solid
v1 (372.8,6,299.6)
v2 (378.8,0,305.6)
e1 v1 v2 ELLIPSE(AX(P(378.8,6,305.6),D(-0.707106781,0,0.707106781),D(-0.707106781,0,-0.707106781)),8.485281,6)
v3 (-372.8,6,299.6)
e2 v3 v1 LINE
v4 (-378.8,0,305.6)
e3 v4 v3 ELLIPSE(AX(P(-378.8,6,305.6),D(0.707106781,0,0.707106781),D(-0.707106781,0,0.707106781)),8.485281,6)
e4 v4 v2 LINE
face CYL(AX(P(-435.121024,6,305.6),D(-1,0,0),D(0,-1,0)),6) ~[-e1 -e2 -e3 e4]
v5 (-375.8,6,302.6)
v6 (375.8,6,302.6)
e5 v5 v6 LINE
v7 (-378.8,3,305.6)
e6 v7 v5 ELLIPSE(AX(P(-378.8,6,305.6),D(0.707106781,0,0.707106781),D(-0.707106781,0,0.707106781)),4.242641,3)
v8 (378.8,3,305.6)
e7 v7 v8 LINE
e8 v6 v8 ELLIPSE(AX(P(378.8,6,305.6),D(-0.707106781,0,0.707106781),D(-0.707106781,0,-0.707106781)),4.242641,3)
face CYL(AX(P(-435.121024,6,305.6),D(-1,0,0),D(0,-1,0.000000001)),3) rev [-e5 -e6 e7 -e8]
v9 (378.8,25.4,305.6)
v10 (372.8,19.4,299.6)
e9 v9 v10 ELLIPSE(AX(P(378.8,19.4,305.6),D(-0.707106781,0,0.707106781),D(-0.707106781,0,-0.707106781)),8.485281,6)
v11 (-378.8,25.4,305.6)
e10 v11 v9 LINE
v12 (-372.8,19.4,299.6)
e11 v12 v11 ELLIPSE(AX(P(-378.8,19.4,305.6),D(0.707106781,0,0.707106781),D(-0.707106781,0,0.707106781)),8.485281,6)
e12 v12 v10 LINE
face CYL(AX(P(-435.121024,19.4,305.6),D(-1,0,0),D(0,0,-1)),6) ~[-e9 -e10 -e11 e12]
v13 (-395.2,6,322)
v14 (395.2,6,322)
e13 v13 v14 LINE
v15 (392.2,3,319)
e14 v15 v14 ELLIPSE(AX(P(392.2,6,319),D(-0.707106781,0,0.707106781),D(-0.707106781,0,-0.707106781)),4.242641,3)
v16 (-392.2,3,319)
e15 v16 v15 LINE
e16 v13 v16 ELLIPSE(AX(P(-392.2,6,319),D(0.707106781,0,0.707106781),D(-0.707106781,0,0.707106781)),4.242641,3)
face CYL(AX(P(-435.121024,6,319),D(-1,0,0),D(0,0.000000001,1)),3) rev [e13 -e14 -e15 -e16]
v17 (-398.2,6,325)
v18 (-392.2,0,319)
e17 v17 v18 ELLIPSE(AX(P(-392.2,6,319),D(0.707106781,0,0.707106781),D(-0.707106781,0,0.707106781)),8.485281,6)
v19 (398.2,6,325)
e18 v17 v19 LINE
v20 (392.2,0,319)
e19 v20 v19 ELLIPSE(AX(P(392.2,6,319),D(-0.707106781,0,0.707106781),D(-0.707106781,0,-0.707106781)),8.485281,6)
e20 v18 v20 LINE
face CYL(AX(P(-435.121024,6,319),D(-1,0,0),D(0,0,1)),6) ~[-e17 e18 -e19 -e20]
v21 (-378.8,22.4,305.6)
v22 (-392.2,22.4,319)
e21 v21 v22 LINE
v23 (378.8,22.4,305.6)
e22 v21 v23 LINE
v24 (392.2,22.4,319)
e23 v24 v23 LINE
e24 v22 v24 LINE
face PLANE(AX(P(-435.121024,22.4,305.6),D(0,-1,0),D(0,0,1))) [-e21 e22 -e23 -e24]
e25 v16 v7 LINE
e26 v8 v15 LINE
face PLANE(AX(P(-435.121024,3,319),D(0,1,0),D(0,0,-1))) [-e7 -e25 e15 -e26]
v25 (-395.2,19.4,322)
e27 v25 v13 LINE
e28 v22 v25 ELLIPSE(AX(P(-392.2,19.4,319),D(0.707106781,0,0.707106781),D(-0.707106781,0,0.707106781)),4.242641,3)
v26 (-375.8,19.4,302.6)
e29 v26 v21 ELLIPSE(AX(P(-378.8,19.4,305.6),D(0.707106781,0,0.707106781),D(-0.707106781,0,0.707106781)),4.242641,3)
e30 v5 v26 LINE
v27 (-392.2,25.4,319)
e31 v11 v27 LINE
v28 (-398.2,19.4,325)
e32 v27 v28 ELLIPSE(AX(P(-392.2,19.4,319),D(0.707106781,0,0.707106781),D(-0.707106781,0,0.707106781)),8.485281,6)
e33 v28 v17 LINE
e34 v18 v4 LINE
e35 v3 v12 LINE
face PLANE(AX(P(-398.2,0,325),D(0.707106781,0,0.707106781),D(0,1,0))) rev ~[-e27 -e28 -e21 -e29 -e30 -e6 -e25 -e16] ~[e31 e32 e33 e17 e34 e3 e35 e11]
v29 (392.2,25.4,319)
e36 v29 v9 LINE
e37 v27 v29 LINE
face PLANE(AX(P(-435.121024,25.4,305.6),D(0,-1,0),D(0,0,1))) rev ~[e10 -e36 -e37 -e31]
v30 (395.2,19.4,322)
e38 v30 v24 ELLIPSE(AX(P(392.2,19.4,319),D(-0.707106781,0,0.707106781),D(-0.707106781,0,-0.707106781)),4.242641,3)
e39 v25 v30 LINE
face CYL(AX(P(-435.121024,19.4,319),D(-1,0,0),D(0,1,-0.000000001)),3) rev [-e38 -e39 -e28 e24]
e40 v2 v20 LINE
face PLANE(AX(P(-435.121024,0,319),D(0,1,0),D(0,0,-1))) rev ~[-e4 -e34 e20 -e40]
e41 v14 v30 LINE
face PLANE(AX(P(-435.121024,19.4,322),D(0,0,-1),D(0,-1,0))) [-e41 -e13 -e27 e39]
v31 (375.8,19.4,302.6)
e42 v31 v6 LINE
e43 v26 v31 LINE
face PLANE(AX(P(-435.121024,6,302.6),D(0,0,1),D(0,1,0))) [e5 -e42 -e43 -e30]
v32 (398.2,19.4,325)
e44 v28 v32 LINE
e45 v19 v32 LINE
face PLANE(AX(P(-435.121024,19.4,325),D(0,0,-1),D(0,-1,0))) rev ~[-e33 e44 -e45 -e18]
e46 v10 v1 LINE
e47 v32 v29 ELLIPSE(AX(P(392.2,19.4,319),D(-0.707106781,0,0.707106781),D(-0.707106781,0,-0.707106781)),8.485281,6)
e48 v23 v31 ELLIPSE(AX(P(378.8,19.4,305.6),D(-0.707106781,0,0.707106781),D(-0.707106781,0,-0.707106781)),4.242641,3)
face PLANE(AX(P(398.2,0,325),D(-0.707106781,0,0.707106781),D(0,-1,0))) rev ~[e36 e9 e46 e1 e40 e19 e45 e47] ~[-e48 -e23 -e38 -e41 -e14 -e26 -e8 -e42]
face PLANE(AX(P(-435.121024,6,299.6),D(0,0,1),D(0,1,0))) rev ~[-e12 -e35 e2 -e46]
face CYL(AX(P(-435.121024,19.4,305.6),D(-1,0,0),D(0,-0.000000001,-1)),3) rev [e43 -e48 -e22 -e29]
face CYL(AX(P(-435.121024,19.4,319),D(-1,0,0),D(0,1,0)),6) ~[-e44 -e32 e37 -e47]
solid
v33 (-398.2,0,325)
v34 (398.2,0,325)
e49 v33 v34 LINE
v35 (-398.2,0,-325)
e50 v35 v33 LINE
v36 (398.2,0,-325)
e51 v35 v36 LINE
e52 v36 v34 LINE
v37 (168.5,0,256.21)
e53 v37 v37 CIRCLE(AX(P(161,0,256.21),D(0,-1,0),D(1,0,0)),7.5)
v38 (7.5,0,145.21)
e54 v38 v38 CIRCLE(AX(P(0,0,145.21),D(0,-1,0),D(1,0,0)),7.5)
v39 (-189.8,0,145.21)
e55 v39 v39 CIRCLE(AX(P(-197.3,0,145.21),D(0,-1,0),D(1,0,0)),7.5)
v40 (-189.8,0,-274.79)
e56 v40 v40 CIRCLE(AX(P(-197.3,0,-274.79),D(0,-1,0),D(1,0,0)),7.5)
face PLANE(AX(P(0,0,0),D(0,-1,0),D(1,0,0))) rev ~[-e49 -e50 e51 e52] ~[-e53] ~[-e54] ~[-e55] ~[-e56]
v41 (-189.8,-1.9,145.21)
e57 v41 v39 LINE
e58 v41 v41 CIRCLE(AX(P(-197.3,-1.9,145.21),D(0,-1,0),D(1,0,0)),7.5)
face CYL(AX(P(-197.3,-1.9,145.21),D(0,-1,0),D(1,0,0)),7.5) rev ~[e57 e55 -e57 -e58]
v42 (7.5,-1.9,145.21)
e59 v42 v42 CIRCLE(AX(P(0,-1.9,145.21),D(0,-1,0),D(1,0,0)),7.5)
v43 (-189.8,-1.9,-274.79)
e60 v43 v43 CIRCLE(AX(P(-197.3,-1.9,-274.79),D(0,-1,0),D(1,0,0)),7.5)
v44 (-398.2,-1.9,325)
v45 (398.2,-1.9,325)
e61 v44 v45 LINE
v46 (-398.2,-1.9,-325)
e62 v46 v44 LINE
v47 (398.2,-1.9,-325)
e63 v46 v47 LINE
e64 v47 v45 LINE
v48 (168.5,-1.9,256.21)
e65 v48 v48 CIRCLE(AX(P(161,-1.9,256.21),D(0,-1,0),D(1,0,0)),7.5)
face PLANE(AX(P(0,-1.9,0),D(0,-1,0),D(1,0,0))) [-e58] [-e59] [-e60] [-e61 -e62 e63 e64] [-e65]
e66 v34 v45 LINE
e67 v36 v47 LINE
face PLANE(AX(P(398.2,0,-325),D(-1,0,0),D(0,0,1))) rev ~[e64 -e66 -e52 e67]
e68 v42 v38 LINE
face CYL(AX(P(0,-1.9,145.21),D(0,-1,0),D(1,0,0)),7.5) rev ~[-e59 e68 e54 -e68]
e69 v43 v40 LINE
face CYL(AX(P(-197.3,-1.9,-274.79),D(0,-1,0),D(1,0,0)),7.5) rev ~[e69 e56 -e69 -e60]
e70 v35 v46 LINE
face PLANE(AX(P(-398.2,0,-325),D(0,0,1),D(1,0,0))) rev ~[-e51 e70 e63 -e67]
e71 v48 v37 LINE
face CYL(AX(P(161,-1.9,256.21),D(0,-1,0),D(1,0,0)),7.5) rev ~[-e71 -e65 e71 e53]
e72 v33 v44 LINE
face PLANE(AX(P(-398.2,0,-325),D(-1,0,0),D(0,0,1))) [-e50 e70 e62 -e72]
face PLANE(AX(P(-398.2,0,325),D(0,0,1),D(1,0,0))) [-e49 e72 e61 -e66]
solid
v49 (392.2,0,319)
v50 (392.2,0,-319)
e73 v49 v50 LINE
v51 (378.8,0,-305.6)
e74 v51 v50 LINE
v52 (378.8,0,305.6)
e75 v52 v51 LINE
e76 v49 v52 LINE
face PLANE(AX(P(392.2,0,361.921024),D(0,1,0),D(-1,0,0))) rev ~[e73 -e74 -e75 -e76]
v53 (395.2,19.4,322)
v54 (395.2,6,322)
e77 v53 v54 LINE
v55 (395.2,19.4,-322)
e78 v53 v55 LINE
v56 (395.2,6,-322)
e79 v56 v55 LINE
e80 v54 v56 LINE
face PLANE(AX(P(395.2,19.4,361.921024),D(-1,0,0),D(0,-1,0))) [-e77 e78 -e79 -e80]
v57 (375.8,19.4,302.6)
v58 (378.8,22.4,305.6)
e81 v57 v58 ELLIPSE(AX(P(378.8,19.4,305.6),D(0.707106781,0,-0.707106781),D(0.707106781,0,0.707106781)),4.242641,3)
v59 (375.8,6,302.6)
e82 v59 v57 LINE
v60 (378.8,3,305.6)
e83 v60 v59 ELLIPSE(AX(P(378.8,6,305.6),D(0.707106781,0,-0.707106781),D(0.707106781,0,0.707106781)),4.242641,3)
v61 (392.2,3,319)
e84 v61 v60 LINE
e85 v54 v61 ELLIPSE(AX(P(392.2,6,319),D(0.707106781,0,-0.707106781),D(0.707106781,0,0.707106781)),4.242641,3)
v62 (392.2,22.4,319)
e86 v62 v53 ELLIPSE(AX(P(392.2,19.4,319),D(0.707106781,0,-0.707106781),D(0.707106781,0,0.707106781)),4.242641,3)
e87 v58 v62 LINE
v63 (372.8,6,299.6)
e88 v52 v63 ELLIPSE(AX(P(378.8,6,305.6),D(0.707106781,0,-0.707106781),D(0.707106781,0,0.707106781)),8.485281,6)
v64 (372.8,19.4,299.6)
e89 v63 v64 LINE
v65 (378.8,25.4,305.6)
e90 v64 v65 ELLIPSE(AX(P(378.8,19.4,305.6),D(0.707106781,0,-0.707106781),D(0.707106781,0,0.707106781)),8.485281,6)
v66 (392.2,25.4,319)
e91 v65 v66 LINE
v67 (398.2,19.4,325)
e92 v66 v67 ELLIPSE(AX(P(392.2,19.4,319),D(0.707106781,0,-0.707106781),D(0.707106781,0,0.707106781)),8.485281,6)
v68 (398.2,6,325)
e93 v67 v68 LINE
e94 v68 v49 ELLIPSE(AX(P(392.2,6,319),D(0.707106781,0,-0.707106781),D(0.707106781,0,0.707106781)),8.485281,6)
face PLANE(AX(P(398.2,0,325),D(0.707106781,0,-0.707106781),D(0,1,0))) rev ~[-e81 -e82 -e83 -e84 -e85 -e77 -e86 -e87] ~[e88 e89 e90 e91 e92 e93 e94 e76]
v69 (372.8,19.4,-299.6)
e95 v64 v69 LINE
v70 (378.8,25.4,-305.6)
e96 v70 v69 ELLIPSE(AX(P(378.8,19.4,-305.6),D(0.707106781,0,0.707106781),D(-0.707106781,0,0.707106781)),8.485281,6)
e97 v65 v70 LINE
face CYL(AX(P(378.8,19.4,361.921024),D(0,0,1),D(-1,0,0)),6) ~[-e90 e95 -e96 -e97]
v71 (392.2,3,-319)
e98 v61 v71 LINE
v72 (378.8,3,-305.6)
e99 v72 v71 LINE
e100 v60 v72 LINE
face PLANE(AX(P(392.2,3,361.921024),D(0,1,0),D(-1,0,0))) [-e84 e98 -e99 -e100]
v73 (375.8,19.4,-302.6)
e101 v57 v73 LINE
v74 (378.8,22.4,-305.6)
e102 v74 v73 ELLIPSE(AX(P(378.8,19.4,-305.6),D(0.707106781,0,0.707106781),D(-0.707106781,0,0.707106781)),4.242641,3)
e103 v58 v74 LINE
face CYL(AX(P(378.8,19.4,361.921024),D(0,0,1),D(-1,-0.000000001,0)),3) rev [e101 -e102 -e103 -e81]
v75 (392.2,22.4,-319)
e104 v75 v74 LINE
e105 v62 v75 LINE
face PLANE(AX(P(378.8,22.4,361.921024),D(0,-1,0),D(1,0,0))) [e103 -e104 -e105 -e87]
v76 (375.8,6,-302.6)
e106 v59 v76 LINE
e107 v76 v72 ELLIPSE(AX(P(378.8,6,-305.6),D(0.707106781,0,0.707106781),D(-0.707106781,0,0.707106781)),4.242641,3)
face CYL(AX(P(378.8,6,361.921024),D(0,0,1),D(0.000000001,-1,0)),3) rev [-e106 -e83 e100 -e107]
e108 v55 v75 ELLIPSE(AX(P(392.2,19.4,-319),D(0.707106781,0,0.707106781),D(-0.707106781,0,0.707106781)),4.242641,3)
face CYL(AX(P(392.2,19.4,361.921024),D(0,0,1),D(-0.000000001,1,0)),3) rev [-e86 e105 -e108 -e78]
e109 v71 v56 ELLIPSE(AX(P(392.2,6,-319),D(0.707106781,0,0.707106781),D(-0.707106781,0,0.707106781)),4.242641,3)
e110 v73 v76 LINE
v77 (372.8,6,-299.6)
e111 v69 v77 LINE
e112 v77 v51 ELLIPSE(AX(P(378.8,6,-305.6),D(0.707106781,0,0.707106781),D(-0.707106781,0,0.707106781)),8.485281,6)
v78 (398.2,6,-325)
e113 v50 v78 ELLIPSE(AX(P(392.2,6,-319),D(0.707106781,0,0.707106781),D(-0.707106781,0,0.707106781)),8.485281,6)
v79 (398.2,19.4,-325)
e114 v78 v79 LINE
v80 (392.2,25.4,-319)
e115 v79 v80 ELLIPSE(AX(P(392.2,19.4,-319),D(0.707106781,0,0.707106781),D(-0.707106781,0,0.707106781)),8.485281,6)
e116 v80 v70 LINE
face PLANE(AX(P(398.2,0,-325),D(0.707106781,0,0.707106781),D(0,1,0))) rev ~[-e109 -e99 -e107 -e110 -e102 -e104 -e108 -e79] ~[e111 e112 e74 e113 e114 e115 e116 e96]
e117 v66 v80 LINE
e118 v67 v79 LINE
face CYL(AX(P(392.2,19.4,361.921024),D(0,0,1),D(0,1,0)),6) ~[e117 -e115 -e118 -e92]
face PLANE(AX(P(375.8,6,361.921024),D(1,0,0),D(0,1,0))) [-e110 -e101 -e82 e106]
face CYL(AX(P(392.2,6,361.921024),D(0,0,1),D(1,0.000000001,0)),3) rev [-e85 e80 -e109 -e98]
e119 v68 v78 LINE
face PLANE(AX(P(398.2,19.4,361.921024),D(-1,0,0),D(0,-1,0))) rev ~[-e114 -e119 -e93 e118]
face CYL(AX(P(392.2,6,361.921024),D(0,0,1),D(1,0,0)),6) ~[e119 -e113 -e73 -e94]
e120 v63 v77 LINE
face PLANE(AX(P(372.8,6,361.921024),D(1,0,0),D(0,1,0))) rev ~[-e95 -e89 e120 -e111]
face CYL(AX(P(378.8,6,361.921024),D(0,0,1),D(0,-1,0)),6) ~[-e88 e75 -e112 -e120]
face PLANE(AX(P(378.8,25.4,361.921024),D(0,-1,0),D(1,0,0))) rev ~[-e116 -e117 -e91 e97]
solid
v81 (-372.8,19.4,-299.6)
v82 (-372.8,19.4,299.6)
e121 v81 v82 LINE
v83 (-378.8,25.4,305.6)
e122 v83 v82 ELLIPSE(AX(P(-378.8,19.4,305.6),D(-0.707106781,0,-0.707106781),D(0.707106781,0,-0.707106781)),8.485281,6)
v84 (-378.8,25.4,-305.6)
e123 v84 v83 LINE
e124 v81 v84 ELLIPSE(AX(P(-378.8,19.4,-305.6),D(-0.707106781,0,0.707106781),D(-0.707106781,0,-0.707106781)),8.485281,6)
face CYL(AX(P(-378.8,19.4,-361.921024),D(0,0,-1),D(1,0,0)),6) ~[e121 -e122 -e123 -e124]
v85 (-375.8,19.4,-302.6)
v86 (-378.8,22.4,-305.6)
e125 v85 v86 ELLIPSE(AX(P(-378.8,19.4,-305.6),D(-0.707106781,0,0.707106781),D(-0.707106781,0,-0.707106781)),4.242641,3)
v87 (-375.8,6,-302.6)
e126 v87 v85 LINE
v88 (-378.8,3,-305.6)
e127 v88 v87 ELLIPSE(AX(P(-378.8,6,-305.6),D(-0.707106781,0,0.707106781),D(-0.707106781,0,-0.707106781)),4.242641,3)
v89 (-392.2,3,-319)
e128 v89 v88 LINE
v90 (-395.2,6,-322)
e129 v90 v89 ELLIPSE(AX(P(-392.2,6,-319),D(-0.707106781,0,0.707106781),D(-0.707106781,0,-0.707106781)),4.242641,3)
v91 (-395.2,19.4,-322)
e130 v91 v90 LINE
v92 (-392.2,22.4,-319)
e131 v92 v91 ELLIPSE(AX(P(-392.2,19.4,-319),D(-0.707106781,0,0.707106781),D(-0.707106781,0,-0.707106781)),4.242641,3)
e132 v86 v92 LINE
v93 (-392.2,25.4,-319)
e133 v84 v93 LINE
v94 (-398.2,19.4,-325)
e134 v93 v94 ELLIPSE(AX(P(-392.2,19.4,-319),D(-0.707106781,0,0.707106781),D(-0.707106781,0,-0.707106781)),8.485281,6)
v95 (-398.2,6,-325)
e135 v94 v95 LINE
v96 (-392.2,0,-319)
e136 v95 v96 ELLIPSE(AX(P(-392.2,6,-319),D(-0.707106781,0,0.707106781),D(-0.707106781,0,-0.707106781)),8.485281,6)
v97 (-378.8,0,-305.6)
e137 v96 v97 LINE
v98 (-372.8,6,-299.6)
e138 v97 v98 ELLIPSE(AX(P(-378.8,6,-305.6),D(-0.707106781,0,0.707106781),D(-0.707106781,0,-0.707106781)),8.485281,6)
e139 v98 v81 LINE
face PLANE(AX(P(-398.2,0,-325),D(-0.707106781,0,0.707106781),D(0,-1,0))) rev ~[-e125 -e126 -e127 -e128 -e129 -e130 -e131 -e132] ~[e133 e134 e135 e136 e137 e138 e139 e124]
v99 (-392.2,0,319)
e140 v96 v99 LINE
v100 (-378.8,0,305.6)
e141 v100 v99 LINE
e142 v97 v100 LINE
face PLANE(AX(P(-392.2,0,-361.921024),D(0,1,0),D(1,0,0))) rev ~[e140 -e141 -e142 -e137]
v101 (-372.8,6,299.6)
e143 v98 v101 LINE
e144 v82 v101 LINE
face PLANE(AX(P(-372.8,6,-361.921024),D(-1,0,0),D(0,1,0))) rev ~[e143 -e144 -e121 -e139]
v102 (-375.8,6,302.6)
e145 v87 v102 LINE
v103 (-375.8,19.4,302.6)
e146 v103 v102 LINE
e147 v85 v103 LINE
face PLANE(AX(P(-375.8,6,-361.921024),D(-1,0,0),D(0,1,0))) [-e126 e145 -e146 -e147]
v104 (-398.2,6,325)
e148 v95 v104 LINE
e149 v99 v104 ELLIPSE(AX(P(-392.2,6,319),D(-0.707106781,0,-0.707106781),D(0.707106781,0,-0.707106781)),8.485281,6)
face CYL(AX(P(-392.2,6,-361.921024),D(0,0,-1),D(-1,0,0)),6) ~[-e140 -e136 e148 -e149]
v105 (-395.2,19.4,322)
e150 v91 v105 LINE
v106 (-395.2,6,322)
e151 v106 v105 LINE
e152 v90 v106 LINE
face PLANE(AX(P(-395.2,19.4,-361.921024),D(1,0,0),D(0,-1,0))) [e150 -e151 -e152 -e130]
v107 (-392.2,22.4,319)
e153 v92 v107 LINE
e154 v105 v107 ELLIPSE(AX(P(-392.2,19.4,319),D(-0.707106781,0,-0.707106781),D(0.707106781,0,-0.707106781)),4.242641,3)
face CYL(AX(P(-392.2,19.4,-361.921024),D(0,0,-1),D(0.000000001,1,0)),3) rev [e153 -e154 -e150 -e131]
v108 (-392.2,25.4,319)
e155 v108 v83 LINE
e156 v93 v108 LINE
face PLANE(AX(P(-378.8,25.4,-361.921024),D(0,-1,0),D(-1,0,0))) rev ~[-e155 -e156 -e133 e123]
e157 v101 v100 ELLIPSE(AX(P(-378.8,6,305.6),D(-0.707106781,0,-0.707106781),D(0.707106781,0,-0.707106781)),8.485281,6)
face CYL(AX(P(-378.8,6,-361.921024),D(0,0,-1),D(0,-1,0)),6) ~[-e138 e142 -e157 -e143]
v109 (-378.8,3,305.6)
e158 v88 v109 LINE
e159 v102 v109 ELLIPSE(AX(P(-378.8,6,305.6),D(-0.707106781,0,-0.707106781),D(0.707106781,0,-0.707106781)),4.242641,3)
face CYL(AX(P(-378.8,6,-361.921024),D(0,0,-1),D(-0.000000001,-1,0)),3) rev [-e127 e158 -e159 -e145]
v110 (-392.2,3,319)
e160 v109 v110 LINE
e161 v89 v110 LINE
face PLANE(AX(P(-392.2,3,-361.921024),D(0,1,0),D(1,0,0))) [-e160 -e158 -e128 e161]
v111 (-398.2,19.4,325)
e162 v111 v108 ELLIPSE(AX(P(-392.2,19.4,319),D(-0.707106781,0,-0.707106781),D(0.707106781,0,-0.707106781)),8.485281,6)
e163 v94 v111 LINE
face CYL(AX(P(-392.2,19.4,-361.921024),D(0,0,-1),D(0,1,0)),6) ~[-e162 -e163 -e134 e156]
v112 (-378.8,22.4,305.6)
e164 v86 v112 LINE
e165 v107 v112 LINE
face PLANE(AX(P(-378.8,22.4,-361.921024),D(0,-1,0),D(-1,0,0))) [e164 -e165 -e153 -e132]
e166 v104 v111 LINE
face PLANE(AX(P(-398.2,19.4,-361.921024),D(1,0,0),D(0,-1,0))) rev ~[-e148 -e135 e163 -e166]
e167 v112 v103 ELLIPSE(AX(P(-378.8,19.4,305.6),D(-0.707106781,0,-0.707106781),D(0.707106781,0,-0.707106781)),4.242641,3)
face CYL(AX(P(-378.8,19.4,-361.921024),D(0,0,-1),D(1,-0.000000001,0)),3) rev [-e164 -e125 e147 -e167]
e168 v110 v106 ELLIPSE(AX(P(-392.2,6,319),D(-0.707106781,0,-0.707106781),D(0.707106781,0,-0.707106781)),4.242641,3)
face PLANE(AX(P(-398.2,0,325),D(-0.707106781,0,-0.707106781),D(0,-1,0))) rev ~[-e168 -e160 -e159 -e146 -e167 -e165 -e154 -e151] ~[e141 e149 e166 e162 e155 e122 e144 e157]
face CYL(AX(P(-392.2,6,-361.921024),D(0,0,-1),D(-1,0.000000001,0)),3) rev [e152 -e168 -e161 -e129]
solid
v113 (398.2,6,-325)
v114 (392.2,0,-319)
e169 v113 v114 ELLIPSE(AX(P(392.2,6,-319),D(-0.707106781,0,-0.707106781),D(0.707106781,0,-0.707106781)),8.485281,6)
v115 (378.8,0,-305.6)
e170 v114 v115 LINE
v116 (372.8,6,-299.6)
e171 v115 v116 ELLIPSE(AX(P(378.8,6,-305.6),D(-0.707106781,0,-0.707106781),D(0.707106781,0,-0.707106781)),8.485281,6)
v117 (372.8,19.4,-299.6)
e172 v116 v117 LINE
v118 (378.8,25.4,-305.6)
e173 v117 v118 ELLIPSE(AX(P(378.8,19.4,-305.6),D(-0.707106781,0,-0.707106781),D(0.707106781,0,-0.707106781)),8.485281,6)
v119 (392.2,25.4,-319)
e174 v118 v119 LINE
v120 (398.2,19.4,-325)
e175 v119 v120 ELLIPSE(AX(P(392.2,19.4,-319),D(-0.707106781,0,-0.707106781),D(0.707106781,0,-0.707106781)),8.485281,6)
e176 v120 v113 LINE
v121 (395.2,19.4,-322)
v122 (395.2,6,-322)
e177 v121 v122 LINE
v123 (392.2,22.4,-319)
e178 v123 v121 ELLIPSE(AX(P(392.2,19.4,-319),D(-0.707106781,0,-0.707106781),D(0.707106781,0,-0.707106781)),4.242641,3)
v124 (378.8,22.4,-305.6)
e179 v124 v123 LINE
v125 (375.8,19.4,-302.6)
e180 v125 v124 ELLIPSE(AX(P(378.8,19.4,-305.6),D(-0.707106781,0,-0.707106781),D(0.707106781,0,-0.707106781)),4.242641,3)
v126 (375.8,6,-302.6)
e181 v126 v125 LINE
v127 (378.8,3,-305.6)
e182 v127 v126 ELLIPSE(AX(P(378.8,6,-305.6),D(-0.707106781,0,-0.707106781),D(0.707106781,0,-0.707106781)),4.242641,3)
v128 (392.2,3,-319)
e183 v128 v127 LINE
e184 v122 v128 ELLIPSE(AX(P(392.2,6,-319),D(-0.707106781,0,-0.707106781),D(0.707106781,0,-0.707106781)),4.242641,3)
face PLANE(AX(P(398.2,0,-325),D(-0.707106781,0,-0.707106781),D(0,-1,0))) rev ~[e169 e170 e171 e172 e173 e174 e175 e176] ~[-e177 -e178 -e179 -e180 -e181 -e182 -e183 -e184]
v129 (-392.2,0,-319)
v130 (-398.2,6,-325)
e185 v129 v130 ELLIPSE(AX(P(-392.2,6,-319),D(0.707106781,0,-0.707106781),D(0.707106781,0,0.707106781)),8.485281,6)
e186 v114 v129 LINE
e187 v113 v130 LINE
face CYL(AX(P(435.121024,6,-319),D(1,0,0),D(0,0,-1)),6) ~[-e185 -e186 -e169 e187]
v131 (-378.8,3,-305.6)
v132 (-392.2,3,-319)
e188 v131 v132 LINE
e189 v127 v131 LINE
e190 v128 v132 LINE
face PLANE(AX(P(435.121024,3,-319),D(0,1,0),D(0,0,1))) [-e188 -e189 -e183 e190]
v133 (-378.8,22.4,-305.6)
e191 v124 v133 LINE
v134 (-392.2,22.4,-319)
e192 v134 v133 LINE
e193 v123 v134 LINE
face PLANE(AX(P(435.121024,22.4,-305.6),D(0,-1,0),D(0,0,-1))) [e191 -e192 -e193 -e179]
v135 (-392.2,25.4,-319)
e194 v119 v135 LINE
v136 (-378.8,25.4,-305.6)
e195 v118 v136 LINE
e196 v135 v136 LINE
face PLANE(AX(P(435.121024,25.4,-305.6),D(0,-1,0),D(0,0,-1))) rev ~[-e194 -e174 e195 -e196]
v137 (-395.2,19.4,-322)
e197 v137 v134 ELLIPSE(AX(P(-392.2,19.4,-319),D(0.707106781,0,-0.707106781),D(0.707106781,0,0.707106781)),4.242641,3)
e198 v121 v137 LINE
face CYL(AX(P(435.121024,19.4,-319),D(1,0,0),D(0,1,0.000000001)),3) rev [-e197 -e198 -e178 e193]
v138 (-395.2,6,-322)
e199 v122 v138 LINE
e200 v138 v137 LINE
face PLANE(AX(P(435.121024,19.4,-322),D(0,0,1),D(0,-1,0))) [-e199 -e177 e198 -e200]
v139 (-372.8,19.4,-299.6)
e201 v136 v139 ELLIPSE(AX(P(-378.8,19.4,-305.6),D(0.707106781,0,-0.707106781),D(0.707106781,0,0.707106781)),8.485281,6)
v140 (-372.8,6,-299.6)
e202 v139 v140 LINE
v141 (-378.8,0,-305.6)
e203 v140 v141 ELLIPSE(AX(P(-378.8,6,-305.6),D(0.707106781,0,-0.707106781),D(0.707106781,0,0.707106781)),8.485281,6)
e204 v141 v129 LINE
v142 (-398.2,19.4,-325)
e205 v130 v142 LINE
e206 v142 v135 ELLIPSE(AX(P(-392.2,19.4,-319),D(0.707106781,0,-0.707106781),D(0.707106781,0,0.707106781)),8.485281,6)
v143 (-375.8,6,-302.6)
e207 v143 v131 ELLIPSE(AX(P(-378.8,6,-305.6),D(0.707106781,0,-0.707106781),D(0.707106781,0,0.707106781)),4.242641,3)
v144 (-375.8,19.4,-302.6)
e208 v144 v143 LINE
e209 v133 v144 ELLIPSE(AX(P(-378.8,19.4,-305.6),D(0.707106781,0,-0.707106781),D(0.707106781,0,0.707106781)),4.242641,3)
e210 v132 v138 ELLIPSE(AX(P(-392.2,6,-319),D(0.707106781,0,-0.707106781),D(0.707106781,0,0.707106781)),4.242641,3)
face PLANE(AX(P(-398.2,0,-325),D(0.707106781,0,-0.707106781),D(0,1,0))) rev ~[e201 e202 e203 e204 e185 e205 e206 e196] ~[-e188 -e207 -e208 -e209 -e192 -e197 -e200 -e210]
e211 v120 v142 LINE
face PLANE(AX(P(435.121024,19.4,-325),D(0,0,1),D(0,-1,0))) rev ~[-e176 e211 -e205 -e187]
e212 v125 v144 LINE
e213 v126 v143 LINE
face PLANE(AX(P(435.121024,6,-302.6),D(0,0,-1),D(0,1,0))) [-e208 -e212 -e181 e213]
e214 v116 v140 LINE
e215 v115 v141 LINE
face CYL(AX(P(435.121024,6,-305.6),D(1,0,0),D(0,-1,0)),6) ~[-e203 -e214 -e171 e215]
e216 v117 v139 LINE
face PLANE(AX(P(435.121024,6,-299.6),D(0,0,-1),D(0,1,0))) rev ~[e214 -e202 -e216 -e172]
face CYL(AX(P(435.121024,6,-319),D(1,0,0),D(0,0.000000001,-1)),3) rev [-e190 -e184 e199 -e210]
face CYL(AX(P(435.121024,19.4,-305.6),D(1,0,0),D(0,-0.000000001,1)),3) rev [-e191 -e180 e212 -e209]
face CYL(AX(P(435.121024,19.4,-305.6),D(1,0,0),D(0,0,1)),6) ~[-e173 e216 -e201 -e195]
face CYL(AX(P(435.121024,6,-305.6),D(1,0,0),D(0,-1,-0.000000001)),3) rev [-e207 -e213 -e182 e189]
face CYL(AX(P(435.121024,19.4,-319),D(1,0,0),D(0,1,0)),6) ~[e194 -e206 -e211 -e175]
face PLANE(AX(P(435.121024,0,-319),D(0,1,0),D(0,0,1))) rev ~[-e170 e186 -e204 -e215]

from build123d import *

# Parameters (mm, degrees)
TUBO_CUADRADO_2_X_2_X_0_25_1_DEPTH      = 686.921024484
TUBO_CUADRADO_2_X_2_X_0_25_1_DEPTH_BACK = 36.921024484
TUBO_CUADRADO_2_X_2_X_0_25_1_2_DEPTH    = 870.242048969
TUBO_CUADRADO_2_X_2_X_0_25_1_3_DEPTH    = 723.842048969
TUBO_CUADRADO_2_X_2_X_0_25_1_4_DEPTH    = 870.242048969
CROQUIS3_W                              = 796.4
CROQUIS3_H                              = 650
SALIENTE_EXTRUIR1_DEPTH                 = 1.9
CROQUIS7_R                              = 7.5
CORTAR_EXTRUIR1_DEPTH                   = 10


with BuildPart() as part:
    # Sketch1 → Tubo cuadrado 2 X 2 X 0.25(1) (new, two sides: drawn at the far end of the back side and taken through both)
    with BuildSketch(Plane(origin=(-385.5, 12.7, -325), x_dir=(1, 0, 0), z_dir=(0, 0, 1)).offset(-TUBO_CUADRADO_2_X_2_X_0_25_1_DEPTH_BACK)):
        with BuildLine():
            Line((-6.7, -12.7), (6.7, -12.7))
            ThreePointArc((6.7, -12.7), (10.942640687, -10.942640687), (12.7, -6.7))
            Line((12.7, -6.7), (12.7, 6.7))
            ThreePointArc((12.7, 6.7), (10.942640687, 10.942640687), (6.7, 12.7))
            Line((6.7, 12.7), (-6.7, 12.7))
            ThreePointArc((-6.7, 12.7), (-10.942640687, 10.942640687), (-12.7, 6.7))
            Line((-12.7, 6.7), (-12.7, -6.7))
            ThreePointArc((-12.7, -6.7), (-10.942640687, -10.942640687), (-6.7, -12.7))
        make_face()
        with BuildLine():
            Line((-6.7, -9.7), (6.7, -9.7))
            ThreePointArc((6.7, -9.7), (8.821320344, -8.821320344), (9.7, -6.7))
            Line((9.7, -6.7), (9.7, 6.7))
            ThreePointArc((9.7, 6.7), (8.821320344, 8.821320344), (6.7, 9.7))
            Line((6.7, 9.7), (-6.7, 9.7))
            ThreePointArc((-6.7, 9.7), (-8.821320344, 8.821320344), (-9.7, 6.7))
            Line((-9.7, 6.7), (-9.7, -6.7))
            ThreePointArc((-9.7, -6.7), (-8.821320344, -8.821320344), (-6.7, -9.7))
        make_face(mode=Mode.SUBTRACT)
    extrude(amount=TUBO_CUADRADO_2_X_2_X_0_25_1_DEPTH + TUBO_CUADRADO_2_X_2_X_0_25_1_DEPTH_BACK)

    # Tubo cuadrado 2 X 2 X 0.25(1) mitre 1
    split(bisect_by=Plane(origin=(-398.2, 0, -325), x_dir=(0, -1, 0), z_dir=(-0.707106781, 0, 0.707106781)), keep=Keep.TOP)

    # Tubo cuadrado 2 X 2 X 0.25(1) mitre 2
    split(bisect_by=Plane(origin=(-398.2, 0, 325), x_dir=(0, -1, 0), z_dir=(-0.707106781, 0, -0.707106781)), keep=Keep.TOP)


with BuildPart() as body_2:
    # Sketch1 on segment 2 (carried to segment 2) → Tubo cuadrado 2 X 2 X 0.25_1 2 (new body)
    with BuildSketch(Plane(origin=(-435.121024484, 12.7, 312.3), x_dir=(0, 0, -1), z_dir=(1, 0, 0))):
        with BuildLine():
            Line((-6.7, -12.7), (6.7, -12.7))
            ThreePointArc((6.7, -12.7), (10.942640687, -10.942640687), (12.7, -6.7))
            Line((12.7, -6.7), (12.7, 6.7))
            ThreePointArc((12.7, 6.7), (10.942640687, 10.942640687), (6.7, 12.7))
            Line((6.7, 12.7), (-6.7, 12.7))
            ThreePointArc((-6.7, 12.7), (-10.942640687, 10.942640687), (-12.7, 6.7))
            Line((-12.7, 6.7), (-12.7, -6.7))
            ThreePointArc((-12.7, -6.7), (-10.942640687, -10.942640687), (-6.7, -12.7))
        make_face()
        with BuildLine():
            Line((-6.7, -9.7), (6.7, -9.7))
            ThreePointArc((6.7, -9.7), (8.821320344, -8.821320344), (9.7, -6.7))
            Line((9.7, -6.7), (9.7, 6.7))
            ThreePointArc((9.7, 6.7), (8.821320344, 8.821320344), (6.7, 9.7))
            Line((6.7, 9.7), (-6.7, 9.7))
            ThreePointArc((-6.7, 9.7), (-8.821320344, 8.821320344), (-9.7, 6.7))
            Line((-9.7, 6.7), (-9.7, -6.7))
            ThreePointArc((-9.7, -6.7), (-8.821320344, -8.821320344), (-6.7, -9.7))
        make_face(mode=Mode.SUBTRACT)
    extrude(amount=TUBO_CUADRADO_2_X_2_X_0_25_1_2_DEPTH)

    # Tubo cuadrado 2 X 2 X 0.25_1 2 mitre 1
    split(bisect_by=Plane(origin=(-398.2, 0, 325), x_dir=(0, 1, 0), z_dir=(0.707106781, 0, 0.707106781)), keep=Keep.TOP)

    # Tubo cuadrado 2 X 2 X 0.25_1 2 mitre 2
    split(bisect_by=Plane(origin=(398.2, 0, 325), x_dir=(0, -1, 0), z_dir=(-0.707106781, 0, 0.707106781)), keep=Keep.TOP)


with BuildPart() as body_3:
    # Sketch1 on segment 3 (carried to segment 3) → Tubo cuadrado 2 X 2 X 0.25_1 3 (new body)
    with BuildSketch(Plane(origin=(385.5, 12.7, 361.921024484), x_dir=(-1, 0, 0), z_dir=(0, 0, -1))):
        with BuildLine():
            Line((-6.7, -12.7), (6.7, -12.7))
            ThreePointArc((6.7, -12.7), (10.942640687, -10.942640687), (12.7, -6.7))
            Line((12.7, -6.7), (12.7, 6.7))
            ThreePointArc((12.7, 6.7), (10.942640687, 10.942640687), (6.7, 12.7))
            Line((6.7, 12.7), (-6.7, 12.7))
            ThreePointArc((-6.7, 12.7), (-10.942640687, 10.942640687), (-12.7, 6.7))
            Line((-12.7, 6.7), (-12.7, -6.7))
            ThreePointArc((-12.7, -6.7), (-10.942640687, -10.942640687), (-6.7, -12.7))
        make_face()
        with BuildLine():
            Line((-6.7, -9.7), (6.7, -9.7))
            ThreePointArc((6.7, -9.7), (8.821320344, -8.821320344), (9.7, -6.7))
            Line((9.7, -6.7), (9.7, 6.7))
            ThreePointArc((9.7, 6.7), (8.821320344, 8.821320344), (6.7, 9.7))
            Line((6.7, 9.7), (-6.7, 9.7))
            ThreePointArc((-6.7, 9.7), (-8.821320344, 8.821320344), (-9.7, 6.7))
            Line((-9.7, 6.7), (-9.7, -6.7))
            ThreePointArc((-9.7, -6.7), (-8.821320344, -8.821320344), (-6.7, -9.7))
        make_face(mode=Mode.SUBTRACT)
    extrude(amount=TUBO_CUADRADO_2_X_2_X_0_25_1_3_DEPTH)

    # Tubo cuadrado 2 X 2 X 0.25_1 3 mitre 1
    split(bisect_by=Plane(origin=(398.2, 0, -325), x_dir=(0, 1, 0), z_dir=(0.707106781, 0, 0.707106781)), keep=Keep.TOP)

    # Tubo cuadrado 2 X 2 X 0.25_1 3 mitre 2
    split(bisect_by=Plane(origin=(398.2, 0, 325), x_dir=(0, 1, 0), z_dir=(0.707106781, 0, -0.707106781)), keep=Keep.TOP)


with BuildPart() as body_4:
    # Sketch1 on segment 4 (carried to segment 4) → Tubo cuadrado 2 X 2 X 0.25_1 4 (new body)
    with BuildSketch(Plane(origin=(435.121024484, 12.7, -312.3), x_dir=(0, 0, 1), z_dir=(-1, 0, 0))):
        with BuildLine():
            Line((-6.7, -12.7), (6.7, -12.7))
            ThreePointArc((6.7, -12.7), (10.942640687, -10.942640687), (12.7, -6.7))
            Line((12.7, -6.7), (12.7, 6.7))
            ThreePointArc((12.7, 6.7), (10.942640687, 10.942640687), (6.7, 12.7))
            Line((6.7, 12.7), (-6.7, 12.7))
            ThreePointArc((-6.7, 12.7), (-10.942640687, 10.942640687), (-12.7, 6.7))
            Line((-12.7, 6.7), (-12.7, -6.7))
            ThreePointArc((-12.7, -6.7), (-10.942640687, -10.942640687), (-6.7, -12.7))
        make_face()
        with BuildLine():
            Line((-6.7, -9.7), (6.7, -9.7))
            ThreePointArc((6.7, -9.7), (8.821320344, -8.821320344), (9.7, -6.7))
            Line((9.7, -6.7), (9.7, 6.7))
            ThreePointArc((9.7, 6.7), (8.821320344, 8.821320344), (6.7, 9.7))
            Line((6.7, 9.7), (-6.7, 9.7))
            ThreePointArc((-6.7, 9.7), (-8.821320344, 8.821320344), (-9.7, 6.7))
            Line((-9.7, 6.7), (-9.7, -6.7))
            ThreePointArc((-9.7, -6.7), (-8.821320344, -8.821320344), (-6.7, -9.7))
        make_face(mode=Mode.SUBTRACT)
    extrude(amount=TUBO_CUADRADO_2_X_2_X_0_25_1_4_DEPTH)

    # Tubo cuadrado 2 X 2 X 0.25_1 4 mitre 1
    split(bisect_by=Plane(origin=(-398.2, 0, -325), x_dir=(0, 1, 0), z_dir=(0.707106781, 0, -0.707106781)), keep=Keep.TOP)

    # Tubo cuadrado 2 X 2 X 0.25_1 4 mitre 2
    split(bisect_by=Plane(origin=(398.2, 0, -325), x_dir=(0, -1, 0), z_dir=(-0.707106781, 0, -0.707106781)), keep=Keep.TOP)


with BuildPart() as body_5:
    # Croquis3 → Saliente-Extruir1 (new body)
    with BuildSketch(Plane.XZ):
        Rectangle(CROQUIS3_W, CROQUIS3_H)
    extrude(amount=SALIENTE_EXTRUIR1_DEPTH)

    # Croquis7 → Cortar-Extruir1 (cut)
    with BuildSketch(Plane.XZ.offset(1.9)):
        with Locations((0, 145.21)):
            Circle(CROQUIS7_R)
        with Locations((161, 256.21)):
            Circle(CROQUIS7_R)
        with Locations((-197.3, 145.21)):
            Circle(CROQUIS7_R)
        with Locations((-197.3, -274.79)):
            Circle(CROQUIS7_R)
    extrude(amount=-CORTAR_EXTRUIR1_DEPTH, mode=Mode.SUBTRACT)


solid = Compound([part.part, body_2.part, body_3.part, body_4.part, body_5.part])
